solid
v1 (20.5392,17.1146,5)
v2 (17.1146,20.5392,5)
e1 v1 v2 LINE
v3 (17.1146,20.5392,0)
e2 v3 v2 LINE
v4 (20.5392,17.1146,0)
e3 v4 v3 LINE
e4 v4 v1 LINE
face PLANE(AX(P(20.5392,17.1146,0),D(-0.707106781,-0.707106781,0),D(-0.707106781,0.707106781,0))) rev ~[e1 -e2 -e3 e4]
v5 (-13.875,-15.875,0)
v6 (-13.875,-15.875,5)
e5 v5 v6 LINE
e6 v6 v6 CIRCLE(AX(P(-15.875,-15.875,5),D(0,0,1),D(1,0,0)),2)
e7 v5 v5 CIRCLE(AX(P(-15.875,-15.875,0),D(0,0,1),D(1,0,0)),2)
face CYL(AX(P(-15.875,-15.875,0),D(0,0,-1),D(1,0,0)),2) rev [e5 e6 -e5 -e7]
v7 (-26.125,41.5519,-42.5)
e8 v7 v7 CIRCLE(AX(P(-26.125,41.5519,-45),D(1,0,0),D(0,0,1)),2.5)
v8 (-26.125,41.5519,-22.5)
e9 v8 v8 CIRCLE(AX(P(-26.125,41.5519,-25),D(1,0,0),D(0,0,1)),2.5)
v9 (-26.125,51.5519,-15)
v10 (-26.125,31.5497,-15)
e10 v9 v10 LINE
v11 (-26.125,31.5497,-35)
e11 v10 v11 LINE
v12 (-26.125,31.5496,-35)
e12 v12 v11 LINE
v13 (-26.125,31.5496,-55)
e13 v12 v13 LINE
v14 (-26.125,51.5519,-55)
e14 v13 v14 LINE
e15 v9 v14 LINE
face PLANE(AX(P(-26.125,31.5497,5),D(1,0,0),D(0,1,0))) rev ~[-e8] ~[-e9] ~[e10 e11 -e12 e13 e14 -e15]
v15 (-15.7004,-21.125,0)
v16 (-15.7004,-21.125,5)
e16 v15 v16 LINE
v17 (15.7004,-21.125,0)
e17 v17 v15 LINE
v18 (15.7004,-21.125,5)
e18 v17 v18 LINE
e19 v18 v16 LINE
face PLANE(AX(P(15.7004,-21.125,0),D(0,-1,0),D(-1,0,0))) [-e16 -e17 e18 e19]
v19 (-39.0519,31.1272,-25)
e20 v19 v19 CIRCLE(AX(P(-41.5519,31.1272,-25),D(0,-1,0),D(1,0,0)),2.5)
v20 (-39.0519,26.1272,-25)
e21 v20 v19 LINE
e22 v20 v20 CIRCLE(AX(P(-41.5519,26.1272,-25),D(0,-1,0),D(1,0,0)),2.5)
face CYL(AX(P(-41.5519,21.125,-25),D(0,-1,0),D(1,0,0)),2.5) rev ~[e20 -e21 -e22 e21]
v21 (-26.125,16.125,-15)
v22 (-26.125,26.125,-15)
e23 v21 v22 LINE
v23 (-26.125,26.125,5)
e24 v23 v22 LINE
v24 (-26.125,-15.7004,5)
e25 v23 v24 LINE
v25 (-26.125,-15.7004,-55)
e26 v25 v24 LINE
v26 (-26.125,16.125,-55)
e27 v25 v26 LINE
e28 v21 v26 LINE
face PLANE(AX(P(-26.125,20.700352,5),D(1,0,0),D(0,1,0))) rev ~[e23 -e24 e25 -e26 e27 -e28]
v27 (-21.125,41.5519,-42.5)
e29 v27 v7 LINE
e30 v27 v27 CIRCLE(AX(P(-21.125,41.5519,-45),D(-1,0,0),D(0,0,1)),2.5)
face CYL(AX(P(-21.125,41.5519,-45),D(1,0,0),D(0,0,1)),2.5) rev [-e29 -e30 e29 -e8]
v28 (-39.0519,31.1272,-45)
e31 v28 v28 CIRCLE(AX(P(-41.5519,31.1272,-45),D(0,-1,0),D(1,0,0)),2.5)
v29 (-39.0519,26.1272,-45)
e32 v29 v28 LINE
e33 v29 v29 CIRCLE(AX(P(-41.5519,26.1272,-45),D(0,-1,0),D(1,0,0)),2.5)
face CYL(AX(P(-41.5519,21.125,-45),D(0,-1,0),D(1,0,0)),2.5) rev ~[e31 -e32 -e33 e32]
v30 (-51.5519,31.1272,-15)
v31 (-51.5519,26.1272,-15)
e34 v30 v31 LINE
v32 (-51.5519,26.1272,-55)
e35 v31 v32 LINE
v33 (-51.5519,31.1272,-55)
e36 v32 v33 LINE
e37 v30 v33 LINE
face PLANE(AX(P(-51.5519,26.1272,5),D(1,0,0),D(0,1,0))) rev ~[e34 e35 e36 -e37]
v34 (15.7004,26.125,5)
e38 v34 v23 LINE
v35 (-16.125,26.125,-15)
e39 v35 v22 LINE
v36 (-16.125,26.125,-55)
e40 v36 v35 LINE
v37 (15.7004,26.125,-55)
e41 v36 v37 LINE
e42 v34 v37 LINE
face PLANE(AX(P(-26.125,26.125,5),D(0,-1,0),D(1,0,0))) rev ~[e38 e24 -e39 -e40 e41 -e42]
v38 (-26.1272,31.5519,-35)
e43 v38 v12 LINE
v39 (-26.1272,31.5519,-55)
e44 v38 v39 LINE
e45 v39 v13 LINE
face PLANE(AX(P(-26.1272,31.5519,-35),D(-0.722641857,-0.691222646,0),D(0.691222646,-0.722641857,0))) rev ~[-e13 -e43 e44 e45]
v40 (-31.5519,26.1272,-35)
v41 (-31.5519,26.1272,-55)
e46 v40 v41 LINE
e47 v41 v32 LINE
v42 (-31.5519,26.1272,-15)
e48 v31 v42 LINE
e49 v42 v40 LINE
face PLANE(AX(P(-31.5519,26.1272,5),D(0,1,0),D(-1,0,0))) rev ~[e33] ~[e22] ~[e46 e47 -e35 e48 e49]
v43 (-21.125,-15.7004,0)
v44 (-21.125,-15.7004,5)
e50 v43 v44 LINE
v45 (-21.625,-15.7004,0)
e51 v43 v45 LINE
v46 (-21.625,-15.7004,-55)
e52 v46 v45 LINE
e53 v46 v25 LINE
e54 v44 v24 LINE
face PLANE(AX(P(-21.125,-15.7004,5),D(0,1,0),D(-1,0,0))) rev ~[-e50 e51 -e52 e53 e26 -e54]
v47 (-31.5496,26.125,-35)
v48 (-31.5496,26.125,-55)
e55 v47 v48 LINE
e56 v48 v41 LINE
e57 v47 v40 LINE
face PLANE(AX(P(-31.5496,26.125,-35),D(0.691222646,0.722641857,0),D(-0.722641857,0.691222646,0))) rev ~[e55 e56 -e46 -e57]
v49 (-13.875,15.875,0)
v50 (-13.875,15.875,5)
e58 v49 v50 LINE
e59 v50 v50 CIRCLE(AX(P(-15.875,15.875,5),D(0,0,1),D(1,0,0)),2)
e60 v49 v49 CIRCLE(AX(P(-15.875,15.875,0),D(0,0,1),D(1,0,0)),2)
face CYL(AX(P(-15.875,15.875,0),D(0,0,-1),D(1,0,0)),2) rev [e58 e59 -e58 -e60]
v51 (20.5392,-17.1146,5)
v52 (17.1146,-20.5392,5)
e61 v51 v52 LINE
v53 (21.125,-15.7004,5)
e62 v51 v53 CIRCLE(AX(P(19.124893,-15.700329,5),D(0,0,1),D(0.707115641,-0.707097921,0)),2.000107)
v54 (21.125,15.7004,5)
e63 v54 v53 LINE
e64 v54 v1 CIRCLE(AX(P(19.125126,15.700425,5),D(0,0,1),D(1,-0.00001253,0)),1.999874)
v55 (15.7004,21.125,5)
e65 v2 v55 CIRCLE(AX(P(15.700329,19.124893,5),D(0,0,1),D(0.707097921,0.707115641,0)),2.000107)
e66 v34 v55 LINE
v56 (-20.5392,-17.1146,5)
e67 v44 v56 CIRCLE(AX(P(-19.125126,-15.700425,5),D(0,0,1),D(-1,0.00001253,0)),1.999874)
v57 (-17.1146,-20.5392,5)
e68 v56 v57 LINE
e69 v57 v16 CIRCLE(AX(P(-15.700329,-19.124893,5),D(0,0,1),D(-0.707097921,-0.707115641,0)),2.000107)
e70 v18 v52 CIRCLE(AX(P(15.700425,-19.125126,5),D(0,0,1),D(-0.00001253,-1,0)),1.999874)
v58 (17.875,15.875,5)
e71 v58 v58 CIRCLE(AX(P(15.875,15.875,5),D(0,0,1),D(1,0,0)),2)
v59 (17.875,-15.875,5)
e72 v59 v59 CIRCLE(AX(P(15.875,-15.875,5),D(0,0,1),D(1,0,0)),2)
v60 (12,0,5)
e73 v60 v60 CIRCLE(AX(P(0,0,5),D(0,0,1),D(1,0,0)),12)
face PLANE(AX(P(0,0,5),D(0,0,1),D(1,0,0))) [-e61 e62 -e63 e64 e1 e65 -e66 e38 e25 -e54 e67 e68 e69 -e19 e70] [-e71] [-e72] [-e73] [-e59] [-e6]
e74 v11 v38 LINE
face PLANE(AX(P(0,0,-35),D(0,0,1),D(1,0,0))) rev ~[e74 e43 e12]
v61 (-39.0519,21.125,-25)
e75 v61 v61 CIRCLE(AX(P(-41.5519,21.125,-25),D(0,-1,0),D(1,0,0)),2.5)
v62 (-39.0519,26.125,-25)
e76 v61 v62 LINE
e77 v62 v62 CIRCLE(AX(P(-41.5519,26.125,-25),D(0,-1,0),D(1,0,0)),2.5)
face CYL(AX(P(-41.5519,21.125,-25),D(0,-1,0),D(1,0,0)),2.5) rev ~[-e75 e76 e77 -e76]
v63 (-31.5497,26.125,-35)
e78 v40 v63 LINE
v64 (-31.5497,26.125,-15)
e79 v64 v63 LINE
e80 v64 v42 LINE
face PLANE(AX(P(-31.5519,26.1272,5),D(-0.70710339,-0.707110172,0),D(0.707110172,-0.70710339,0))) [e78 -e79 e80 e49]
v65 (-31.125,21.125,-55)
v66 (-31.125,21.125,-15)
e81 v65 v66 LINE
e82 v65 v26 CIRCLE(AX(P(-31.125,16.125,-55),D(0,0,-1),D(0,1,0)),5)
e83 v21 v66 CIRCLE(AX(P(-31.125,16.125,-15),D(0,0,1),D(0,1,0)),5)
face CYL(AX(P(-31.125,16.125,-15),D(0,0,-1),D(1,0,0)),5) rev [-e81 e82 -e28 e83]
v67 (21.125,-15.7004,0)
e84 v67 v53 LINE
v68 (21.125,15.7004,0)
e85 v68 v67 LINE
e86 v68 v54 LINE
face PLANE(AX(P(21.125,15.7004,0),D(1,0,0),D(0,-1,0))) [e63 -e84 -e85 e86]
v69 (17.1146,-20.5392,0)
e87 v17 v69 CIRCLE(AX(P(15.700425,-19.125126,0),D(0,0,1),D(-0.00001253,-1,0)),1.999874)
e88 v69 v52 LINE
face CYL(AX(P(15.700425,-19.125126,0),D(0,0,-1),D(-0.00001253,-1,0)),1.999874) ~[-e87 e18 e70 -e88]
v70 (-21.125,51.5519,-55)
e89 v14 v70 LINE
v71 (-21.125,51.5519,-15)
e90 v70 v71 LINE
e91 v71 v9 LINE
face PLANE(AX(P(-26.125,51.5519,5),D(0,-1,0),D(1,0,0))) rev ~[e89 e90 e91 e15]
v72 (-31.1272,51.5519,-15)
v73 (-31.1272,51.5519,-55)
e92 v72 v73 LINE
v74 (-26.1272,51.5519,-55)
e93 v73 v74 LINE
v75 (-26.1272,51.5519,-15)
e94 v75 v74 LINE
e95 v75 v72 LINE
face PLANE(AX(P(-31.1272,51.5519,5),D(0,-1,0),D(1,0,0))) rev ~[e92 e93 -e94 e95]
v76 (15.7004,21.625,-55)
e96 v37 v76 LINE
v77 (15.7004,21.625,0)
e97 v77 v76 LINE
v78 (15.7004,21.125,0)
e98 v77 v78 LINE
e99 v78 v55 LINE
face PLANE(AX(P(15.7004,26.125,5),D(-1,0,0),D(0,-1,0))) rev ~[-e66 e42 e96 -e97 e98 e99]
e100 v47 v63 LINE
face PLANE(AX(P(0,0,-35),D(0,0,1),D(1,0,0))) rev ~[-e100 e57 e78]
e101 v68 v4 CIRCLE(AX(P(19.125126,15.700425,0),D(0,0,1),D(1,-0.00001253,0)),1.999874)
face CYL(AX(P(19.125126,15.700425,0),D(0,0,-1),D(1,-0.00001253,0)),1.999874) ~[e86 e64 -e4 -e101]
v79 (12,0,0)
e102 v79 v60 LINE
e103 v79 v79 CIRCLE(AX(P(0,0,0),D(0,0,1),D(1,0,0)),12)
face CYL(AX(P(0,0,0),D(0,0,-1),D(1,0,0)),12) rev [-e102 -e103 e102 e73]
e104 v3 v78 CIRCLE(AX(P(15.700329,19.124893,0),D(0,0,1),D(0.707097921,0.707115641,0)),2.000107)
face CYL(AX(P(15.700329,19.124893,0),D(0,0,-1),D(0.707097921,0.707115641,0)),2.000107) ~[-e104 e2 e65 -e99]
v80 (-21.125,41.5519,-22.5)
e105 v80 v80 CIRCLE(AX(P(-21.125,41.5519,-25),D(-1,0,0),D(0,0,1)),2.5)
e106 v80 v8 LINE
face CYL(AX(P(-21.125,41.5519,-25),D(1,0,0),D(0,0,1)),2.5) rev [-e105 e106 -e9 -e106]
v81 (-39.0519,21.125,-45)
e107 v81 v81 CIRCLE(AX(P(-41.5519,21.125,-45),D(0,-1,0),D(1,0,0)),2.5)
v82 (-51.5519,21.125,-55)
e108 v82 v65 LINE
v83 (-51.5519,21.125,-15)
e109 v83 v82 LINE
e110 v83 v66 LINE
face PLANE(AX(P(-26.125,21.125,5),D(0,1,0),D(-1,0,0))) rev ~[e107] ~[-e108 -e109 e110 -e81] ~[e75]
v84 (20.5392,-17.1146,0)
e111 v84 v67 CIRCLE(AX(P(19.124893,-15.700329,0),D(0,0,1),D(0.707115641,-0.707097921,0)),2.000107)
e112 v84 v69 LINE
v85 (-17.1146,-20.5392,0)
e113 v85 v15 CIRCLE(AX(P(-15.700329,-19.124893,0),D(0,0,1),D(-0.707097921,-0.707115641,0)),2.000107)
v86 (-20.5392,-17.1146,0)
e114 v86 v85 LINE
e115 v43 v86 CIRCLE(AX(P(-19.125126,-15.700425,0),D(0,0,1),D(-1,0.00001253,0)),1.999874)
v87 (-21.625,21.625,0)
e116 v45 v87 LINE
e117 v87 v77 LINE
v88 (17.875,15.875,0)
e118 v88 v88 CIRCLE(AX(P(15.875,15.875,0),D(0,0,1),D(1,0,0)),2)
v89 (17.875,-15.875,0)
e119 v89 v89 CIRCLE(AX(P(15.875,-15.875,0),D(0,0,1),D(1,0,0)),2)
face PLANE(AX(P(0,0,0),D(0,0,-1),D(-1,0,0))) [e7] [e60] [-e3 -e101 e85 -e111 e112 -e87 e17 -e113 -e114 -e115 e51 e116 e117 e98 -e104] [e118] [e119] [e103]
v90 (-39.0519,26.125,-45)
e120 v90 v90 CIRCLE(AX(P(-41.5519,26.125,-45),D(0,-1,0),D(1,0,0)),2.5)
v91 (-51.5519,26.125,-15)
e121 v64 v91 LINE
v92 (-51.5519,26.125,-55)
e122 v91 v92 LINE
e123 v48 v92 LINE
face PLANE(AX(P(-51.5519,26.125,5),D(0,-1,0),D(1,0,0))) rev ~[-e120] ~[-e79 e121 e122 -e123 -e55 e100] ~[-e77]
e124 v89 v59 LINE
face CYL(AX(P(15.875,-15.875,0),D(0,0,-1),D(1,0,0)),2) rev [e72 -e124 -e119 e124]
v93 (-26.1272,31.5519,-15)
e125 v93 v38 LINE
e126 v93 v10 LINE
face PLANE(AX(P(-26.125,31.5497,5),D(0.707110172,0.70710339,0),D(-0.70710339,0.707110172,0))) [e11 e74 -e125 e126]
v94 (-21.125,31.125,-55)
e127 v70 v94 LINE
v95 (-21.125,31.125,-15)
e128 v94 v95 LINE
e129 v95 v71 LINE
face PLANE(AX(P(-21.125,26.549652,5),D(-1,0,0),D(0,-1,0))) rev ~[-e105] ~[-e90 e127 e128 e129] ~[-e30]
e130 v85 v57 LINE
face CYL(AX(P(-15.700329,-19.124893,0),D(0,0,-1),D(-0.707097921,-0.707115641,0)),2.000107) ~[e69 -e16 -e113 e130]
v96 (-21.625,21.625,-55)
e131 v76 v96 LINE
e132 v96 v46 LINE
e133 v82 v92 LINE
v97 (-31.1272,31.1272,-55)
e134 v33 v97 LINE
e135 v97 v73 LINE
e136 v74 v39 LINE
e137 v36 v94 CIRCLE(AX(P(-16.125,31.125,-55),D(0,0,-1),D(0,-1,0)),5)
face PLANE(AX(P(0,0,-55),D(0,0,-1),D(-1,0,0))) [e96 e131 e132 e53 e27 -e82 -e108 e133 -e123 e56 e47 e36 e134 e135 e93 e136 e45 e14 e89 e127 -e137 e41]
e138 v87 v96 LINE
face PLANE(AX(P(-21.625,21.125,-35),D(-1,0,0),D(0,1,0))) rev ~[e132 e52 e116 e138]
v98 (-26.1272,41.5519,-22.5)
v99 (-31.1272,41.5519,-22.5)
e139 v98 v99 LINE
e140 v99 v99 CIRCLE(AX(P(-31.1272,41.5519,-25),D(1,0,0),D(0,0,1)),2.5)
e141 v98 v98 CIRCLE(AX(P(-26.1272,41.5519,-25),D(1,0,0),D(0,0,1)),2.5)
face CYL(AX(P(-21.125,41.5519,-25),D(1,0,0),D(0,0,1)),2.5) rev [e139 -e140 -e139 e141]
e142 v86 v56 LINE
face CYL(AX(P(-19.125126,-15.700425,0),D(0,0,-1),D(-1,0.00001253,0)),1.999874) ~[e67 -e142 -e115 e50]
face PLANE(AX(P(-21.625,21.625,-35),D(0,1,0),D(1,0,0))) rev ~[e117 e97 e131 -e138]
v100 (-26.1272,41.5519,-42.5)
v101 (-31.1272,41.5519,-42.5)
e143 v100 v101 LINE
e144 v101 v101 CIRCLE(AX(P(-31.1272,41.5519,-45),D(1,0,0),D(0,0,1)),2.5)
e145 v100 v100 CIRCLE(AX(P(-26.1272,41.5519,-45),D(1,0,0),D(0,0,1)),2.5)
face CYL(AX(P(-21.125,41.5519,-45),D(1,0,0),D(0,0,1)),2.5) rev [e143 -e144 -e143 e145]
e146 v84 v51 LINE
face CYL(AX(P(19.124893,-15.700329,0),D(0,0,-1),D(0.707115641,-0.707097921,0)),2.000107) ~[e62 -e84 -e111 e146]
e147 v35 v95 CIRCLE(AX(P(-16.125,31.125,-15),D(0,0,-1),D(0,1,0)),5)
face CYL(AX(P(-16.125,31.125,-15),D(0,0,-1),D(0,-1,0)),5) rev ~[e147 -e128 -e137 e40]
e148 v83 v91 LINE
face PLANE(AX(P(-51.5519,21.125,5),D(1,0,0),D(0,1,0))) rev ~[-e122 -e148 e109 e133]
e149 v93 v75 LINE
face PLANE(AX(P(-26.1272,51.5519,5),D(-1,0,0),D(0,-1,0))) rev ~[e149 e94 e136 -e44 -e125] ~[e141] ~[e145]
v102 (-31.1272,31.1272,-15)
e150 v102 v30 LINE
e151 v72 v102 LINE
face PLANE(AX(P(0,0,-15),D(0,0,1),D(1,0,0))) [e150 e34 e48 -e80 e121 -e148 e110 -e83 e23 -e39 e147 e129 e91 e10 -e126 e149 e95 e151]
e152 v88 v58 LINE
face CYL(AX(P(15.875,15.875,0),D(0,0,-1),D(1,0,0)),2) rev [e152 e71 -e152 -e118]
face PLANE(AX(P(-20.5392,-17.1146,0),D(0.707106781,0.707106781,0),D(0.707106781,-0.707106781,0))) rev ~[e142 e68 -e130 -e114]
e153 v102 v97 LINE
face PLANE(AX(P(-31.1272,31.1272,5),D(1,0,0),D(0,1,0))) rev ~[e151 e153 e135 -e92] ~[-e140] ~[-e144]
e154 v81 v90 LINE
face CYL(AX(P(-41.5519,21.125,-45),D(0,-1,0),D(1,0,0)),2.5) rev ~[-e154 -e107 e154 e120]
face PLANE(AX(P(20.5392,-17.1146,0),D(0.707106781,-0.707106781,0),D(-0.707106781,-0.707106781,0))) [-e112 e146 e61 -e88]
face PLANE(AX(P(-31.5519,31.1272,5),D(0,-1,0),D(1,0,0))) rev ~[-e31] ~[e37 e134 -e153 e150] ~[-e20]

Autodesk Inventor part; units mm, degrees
ref_plane "YZ Plane" through (0, 0, 0) normal (1, 0, 0) x (0, 1, 0)
ref_plane "XZ Plane" through (0, 0, 0) normal (0, 1, 0) x (-1, 0, 0)
ref_plane "XY Plane" through (0, 0, 0) normal (0, 0, 1) x (1, 0, 0)
sketch "Sketch1" plane through (0, 0, 0) normal (0, 0, 1) x (1, 0, 0)
  arc A0 (-20.5392, 17.1146) -> (-21.125, 15.7004) centre (-19.125, 15.7004) ccw projected
  line L0 (-21.125, -15.7004) -> (-21.125, 15.7004) projected
  arc A1 (-21.125, -15.7004) -> (-20.5392, -17.1146) centre (-19.125, -15.7004) ccw projected
  line L1 (-20.5392, -17.1146) -> (-17.1146, -20.5392) projected
  arc A2 (-17.1146, -20.5392) -> (-15.7004, -21.125) centre (-15.7004, -19.125) ccw projected
  line L2 (15.7004, -21.125) -> (-15.7004, -21.125) projected
  arc A3 (15.7004, -21.125) -> (17.1146, -20.5392) centre (15.7004, -19.125) ccw projected
  line L3 (20.5392, -17.1146) -> (17.1146, -20.5392) projected
  arc A4 (20.5392, -17.1146) -> (21.125, -15.7004) centre (19.125, -15.7004) ccw projected
  line L4 (21.125, 15.7004) -> (21.125, -15.7004) projected
  arc A5 (21.125, 15.7004) -> (20.5392, 17.1146) centre (19.125, 15.7004) ccw projected
  line L5 (20.5392, 17.1146) -> (17.1146, 20.5392) projected
  arc A6 (17.1146, 20.5392) -> (15.7004, 21.125) centre (15.7004, 19.125) ccw projected
  line L6 (-15.7004, 21.125) -> (15.7004, 21.125) projected
  arc A7 (-15.7004, 21.125) -> (-17.1146, 20.5392) centre (-15.7004, 19.125) ccw projected
  line L7 (-20.5392, 17.1146) -> (-17.1146, 20.5392) projected
  circle A8 centre (0, 0) radius 16 projected
  circle A9 centre (-15.875, -15.875) radius 1.625 projected
  circle A10 centre (15.875, 15.875) radius 1.625 projected
  circle A11 centre (-15.875, 15.875) radius 1.625 projected
  circle A12 centre (15.875, -15.875) radius 1.625 projected
  circle A13 centre (0, 0) radius 12
  circle A14 centre (-15.875, 15.875) radius 2
  circle A15 centre (15.875, 15.875) radius 2
  circle A16 centre (15.875, -15.875) radius 2
  circle A17 centre (-15.875, -15.875) radius 2
  line L8 (-21.125, -15.7004) -> (-29.125, -15.7004)
  line L9 (-29.125, -15.7004) -> (-29.125, 21.125)
  line L10 (-29.125, 21.125) -> (-21.125, 21.125)
  line L11 (-21.125, 21.125) -> (-21.125, -15.7004)
  line L12 (15.7004, 21.125) -> (-29.125, 21.125)
  line L13 (-29.125, 21.125) -> (-29.125, 29.125)
  line L14 (-29.125, 29.125) -> (15.7004, 29.125)
  line L15 (15.7004, 29.125) -> (15.7004, 21.125)
  point P0 (0, 0)
  dimension "d0" = 24
  dimension "d1" = 4
  dimension "d2" = 4
  dimension "d3" = 4
  dimension "d4" = 4
  dimension "d77" = 8
  dimension "d78" = 8
extrude "Extrusion1" add sketch "Sketch1" along normal blind 5 contours L7 A7 L6 A6 L5 A5 L4 A4 L3 A3 L2 A2 L1 A1 L0 A0 | A8
sketch "Sketch3" plane through (0, 0, 5) normal (0, 0, 1) x (1, 0, 0)
  line L0 (-15.7004, 21.125) -> (15.7004, 21.125) projected
  line L1 (15.7004, 21.125) -> (-51.5519, 21.125)
  line L2 (-51.5519, 21.125) -> (-51.5519, 26.125)
  line L3 (-51.5519, 26.125) -> (15.7004, 26.125)
  line L4 (15.7004, 26.125) -> (15.7004, 21.125)
  line L5 (-21.125, 15.7004) -> (-21.125, -15.7004) projected
  line L6 (-21.125, -15.7004) -> (-26.125, -15.7004)
  line L7 (-26.125, -15.7004) -> (-26.125, 51.5519)
  line L8 (-26.125, 51.5519) -> (-21.125, 51.5519)
  line L9 (-21.125, 51.5519) -> (-21.125, -15.7004)
  arc A0 (-20.5392, 17.1146) -> (-21.125, 15.7004) centre (-19.125, 15.7004) ccw projected
  line L10 (15.7004, 21.125) -> (-15.7004, 21.125) projected
  line L11 (-21.125, 15.7004) -> (-15.7004, 21.125)
  line L12 (-15.7004, 21.125) -> (-26.1272, 31.5519)
  line L13 (-26.1272, 31.5519) -> (-31.5519, 26.1272)
  line L14 (-31.5519, 26.1272) -> (-21.125, 15.7004)
  line L15 (-31.5519, 26.1272) -> (-51.5519, 26.1272)
  line L16 (-51.5519, 26.1272) -> (-51.5519, 31.1272)
  line L17 (-51.5519, 31.1272) -> (-31.5519, 31.1272)
  line L18 (-31.5519, 31.1272) -> (-31.5519, 26.1272)
  line L19 (-26.1272, 31.5519) -> (-31.1272, 31.5519)
  line L20 (-31.1272, 31.5519) -> (-31.1272, 51.5519)
  line L21 (-31.1272, 51.5519) -> (-26.1272, 51.5519)
  line L22 (-26.1272, 51.5519) -> (-26.1272, 31.5519)
  line L23 (-31.5519, 31.1272) -> (-31.1272, 31.1272)
  line L24 (-31.1272, 31.1272) -> (-31.1272, 31.5519)
  point P0 (0, 0)
  point P1 (-31.5496, 26.125)
  point P2 (-26.125, 21.125)
  point P3 (-21.125, 21.125)
  point P4 (-21.125, 26.125)
  point P5 (-26.125, 31.5496)
  dimension "d11" = 5
  dimension "d12" = 5
  dimension "d79" = 5
  dimension "d80" = 5
  dimension "d81" = 20
  dimension "d82" = 20
  dimension "d83" = 0
  dimension "d84" = 0
extrude "Extrusion3" add sketch "Sketch3" against normal blind 40 contours L12 L3 L4 L0 | L1 L9 L3 L12 | L9 L14 L7 L1 | L1 L7 L3 L9 | L5 L6 L7 L14 | L1 L14 L3 L7 | L3 L7 L12 L9 | L12 L7 L8 L9 | L1 L2 L3 L14 | L3 L14 L13 L12 L7 | L13 L18 L23 L24 L19 | L19 L20 L21 L22 | L15 L16 L17 L18
sketch "Sketch4" plane through (0, 0, 5) normal (0, 0, 1) x (1, 0, 0)
  arc A0 (-15.7004, 21.125) -> (-17.1146, 20.5392) centre (-15.7004, 19.125) ccw projected
  line L0 (-17.1146, 20.5392) -> (-20.5392, 17.1146) projected
  arc A1 (-20.5392, 17.1146) -> (-21.125, 15.7004) centre (-19.125, 15.7004) ccw projected
  line L1 (-21.125, 26.125) -> (-21.125, 51.5519) projected
  line L2 (-51.5519, 21.125) -> (-26.125, 21.125) projected
  circle A2 centre (0, 0) radius 12 projected
  circle A3 centre (-15.875, -15.875) radius 2 projected
  circle A4 centre (15.875, -15.875) radius 2 projected
  circle A5 centre (15.875, 15.875) radius 2 projected
  circle A6 centre (-15.875, 15.875) radius 2 projected
  line L3 (15.7004, 21.125) -> (15.7004, 26.125) projected
  line L4 (15.7004, 26.125) -> (-21.125, 26.125) projected
  line L5 (-21.125, 51.5519) -> (-26.125, 51.5519) projected
  line L6 (-26.125, 51.5519) -> (-26.125, 31.5496) projected
  line L7 (-31.5496, 26.125) -> (-51.5519, 26.125) projected
  line L8 (-51.5519, 26.125) -> (-51.5519, 21.125) projected
  line L9 (-26.125, 21.125) -> (-26.125, -15.7004) projected
  line L10 (-26.125, -15.7004) -> (-21.125, -15.7004) projected
  arc A7 (-21.125, -15.7004) -> (-20.5392, -17.1146) centre (-19.125, -15.7004) ccw projected
  line L11 (-20.5392, -17.1146) -> (-17.1146, -20.5392) projected
  arc A8 (-17.1146, -20.5392) -> (-15.7004, -21.125) centre (-15.7004, -19.125) ccw projected
  line L12 (-15.7004, -21.125) -> (15.7004, -21.125) projected
  arc A9 (15.7004, -21.125) -> (17.1146, -20.5392) centre (15.7004, -19.125) ccw projected
  line L13 (17.1146, -20.5392) -> (20.5392, -17.1146) projected
  arc A10 (20.5392, -17.1146) -> (21.125, -15.7004) centre (19.125, -15.7004) ccw projected
  line L14 (21.125, -15.7004) -> (21.125, 15.7004) projected
  arc A11 (21.125, 15.7004) -> (20.5392, 17.1146) centre (19.125, 15.7004) ccw projected
  line L15 (20.5392, 17.1146) -> (17.1146, 20.5392) projected
  arc A12 (17.1146, 20.5392) -> (15.7004, 21.125) centre (15.7004, 19.125) ccw projected
  line L16 (-26.125, 31.5496) -> (-26.1272, 31.5519) projected
  line L17 (-26.1272, 31.5519) -> (-26.1272, 51.5519) projected
  line L18 (-26.1272, 51.5519) -> (-31.1272, 51.5519) projected
  line L19 (-31.1272, 51.5519) -> (-31.1272, 31.1272) projected
  line L20 (-31.1272, 31.1272) -> (-51.5519, 31.1272) projected
  line L21 (-51.5519, 31.1272) -> (-51.5519, 26.1272) projected
  line L22 (-51.5519, 26.1272) -> (-31.5519, 26.1272) projected
  line L23 (-31.5519, 26.1272) -> (-31.5496, 26.125) projected
  line L24 (-21.125, 15.7004) -> (-21.125, 21.125) projected
  line L25 (-21.125, 21.125) -> (-15.7004, 21.125) projected
  point P0 (0, 0)
extrude "Extrusion4" add sketch "Sketch4" against normal blind 5 contours A0 L0 A1 L24 L25
sketch "Sketch11" plane through (0, 0, 5) normal (0, 0, 1) x (1, 0, 0)
  line L0 (-26.125, 21.125) -> (-26.125, 51.5519) projected
  line L1 (-26.125, 26.125) -> (-19.1264, 26.125)
  line L2 (-19.1264, 26.125) -> (-19.1264, 59.1574)
  line L3 (-19.1264, 59.1574) -> (-26.125, 59.1574)
  line L4 (-26.125, 59.1574) -> (-26.125, 26.125)
  line L5 (-51.5519, 26.125) -> (-51.5519, 21.125) projected
  line L6 (-51.5519, 26.125) -> (-26.125, 26.125)
  line L7 (-26.125, 26.125) -> (-26.125, 13.3287)
  line L8 (-26.125, 13.3287) -> (-51.5519, 13.3287)
  line L9 (-51.5519, 13.3287) -> (-51.5519, 26.125)
  line L10 (-26.125, 26.125) -> (-55.9242, 26.125)
  line L11 (-55.9242, 26.125) -> (-55.9242, 63.8305)
  line L12 (-55.9242, 63.8305) -> (-26.125, 63.8305)
  line L13 (-26.125, 63.8305) -> (-26.125, 26.125)
  point P0 (0, 0)
  point P1 (-26.125, 46.125)
extrude "Extrusion9" cut sketch "Sketch11" against normal blind 20
sketch "Sketch7" plane through (0, 0, -35) normal (0, 0, -1) x (-1, 0, 0)
  line L0 (21.625, 21.625) -> (-23.2924, 21.625)
  line L1 (-23.2924, 21.625) -> (-23.2924, -21.9013)
  line L2 (-23.2924, -21.9013) -> (21.625, -21.9013)
  line L3 (21.625, -21.9013) -> (21.625, 21.625)
  line L4 (-15.7004, 21.125) -> (51.5519, 21.125) projected
  line L5 (21.125, 51.5519) -> (21.125, -15.7004) projected
  point P0 (0, 0)
  point P1 (21.125, 21.125)
  dimension "d35" = 0.5
  dimension "d36" = 0.5
extrude "Extrusion7" cut sketch "Sketch7" against normal blind 35
sketch "Sketch12" plane through (0, 0, -35) normal (0, 0, -1) x (-1, 0, 0)
  line L0 (51.5519, 21.125) -> (51.5519, 26.125) projected
  line L1 (-15.7004, 26.125) -> (26.125, 26.125) projected
  line L2 (51.5519, 21.125) -> (27.0552, 21.125)
  line L3 (27.0552, 21.125) -> (27.0552, 26.125)
  line L4 (27.0552, 26.125) -> (51.5519, 26.125)
  line L5 (51.5519, 26.125) -> (51.5519, 21.125)
  line L6 (26.125, 51.5519) -> (21.125, 51.5519) projected
  line L7 (-15.7004, 21.625) -> (21.625, 21.625) projected
  line L8 (26.125, 51.5519) -> (21.125, 51.5519)
  line L9 (21.125, 51.5519) -> (21.125, 21.625)
  line L10 (21.125, 21.625) -> (26.125, 21.625)
  line L11 (26.125, 21.625) -> (26.125, 51.5519)
  line L12 (51.5519, 26.125) -> (31.5496, 26.125) projected
  line L13 (21.125, 51.5519) -> (21.125, 26.125) projected
  line L14 (26.125, 51.5519) -> (21.125, 51.5519) projected
  line L15 (26.125, 31.5496) -> (26.125, 51.5519) projected
  line L16 (26.1272, 31.5519) -> (26.125, 31.5496) projected
  line L17 (26.1272, 51.5519) -> (26.1272, 31.5519) projected
  line L18 (31.1272, 51.5519) -> (26.1272, 51.5519) projected
  line L19 (31.1272, 31.1272) -> (31.1272, 51.5519) projected
  line L20 (51.5519, 31.1272) -> (31.1272, 31.1272) projected
  line L21 (51.5519, 26.1272) -> (51.5519, 31.1272) projected
  line L22 (31.5519, 26.1272) -> (51.5519, 26.1272) projected
  line L23 (31.5496, 26.125) -> (31.5519, 26.1272) projected
  line L24 (51.5519, 26.125) -> (31.5496, 26.125) projected
  line L25 (51.5519, 21.125) -> (51.5519, 26.125) projected
  line L26 (26.125, 21.125) -> (51.5519, 21.125) projected
  line L27 (26.125, 26.125) -> (26.125, 21.125) projected
  line L28 (21.125, 26.125) -> (26.125, 26.125) projected
  point P0 (0, 0)
  point P1 (51.5519, 26.125)
  point P2 (26.125, 26.125)
  point P3 (21.125, 51.5519)
  point P4 (21.125, 26.125)
  dimension "d54" = 5
  dimension "d55" = 5
  dimension "d56" = 4.5
  dimension "d57" = 0.5
extrude "Extrusion10" add sketch "Sketch12" along normal blind 20
sketch "Sketch13" plane through (-51.5519, 21.125, -15) normal (0, -1, 0) x (1, 0, 0)
  circle A0 centre (10, -30) radius 2.5
  circle A1 centre (10, -10) radius 2.5
  line L0 (24.4966, -40) -> (0, -40) projected
  line L1 (0, 0) -> (0, -40) projected
  point P0 (51.5519, 15)
  point P1 (0, -20)
  dimension "d60" = 10
  dimension "d61" = 10
  dimension "d62" = 5
  dimension "d63" = 5
  dimension "d64" = 20
  dimension "d65" = 10
extrude "Extrusion11" cut sketch "Sketch13" against normal blind 20
sketch "Sketch14" plane through (-21.125, 26.125, -15) normal (-1, 0, 0) x (0, 0, 1)
  circle A0 centre (-10, 15.4269) radius 2.5
  circle A1 centre (-30, 15.4269) radius 2.5
  line L0 (0, 5.4246) -> (0, 25.4269) projected
  line L1 (0, 25.4269) -> (-40, 25.4269) projected
  point P0 (15, -26.125)
  point P1 (0, 0)
  point P2 (20, 25.4269)
  point P3 (-20, 25.4269)
  dimension "d68" = 10
  dimension "d69" = 10
  dimension "d70" = 20
  dimension "d71" = 10
  dimension "d72" = 5
  dimension "d73" = 5
extrude "Extrusion12" cut sketch "Sketch14" along normal mid plane 40
fillet "Fillet1" radius 5 2 edges at (-21.125, 26.125, -25) (-26.125, 21.125, -25)
sketch "Sketch15" plane through (0, 0, -35) normal (0, 0, -1) x (-1, 0, 0)
  line L0 (21.125, 21.625) -> (21.125, 31.125) projected
  arc A0 (16.125, 26.125) -> (21.125, 31.125) centre (16.125, 31.125) ccw projected
  line L1 (16.125, 26.125) -> (-15.7004, 26.125) projected
  line L2 (-15.7004, 26.125) -> (-15.7004, 21.625) projected
  line L3 (-15.7004, 21.625) -> (21.125, 21.625) projected
  line L4 (26.125, 21.125) -> (26.125, 21.625) projected
  line L5 (26.125, 21.625) -> (21.625, 21.625) projected
  line L6 (21.625, 21.625) -> (21.625, -15.7004) projected
  line L7 (21.625, -15.7004) -> (26.125, -15.7004) projected
  line L8 (26.125, -15.7004) -> (26.125, 16.125) projected
  arc A1 (31.125, 21.125) -> (26.125, 16.125) centre (31.125, 16.125) ccw projected
  line L9 (26.125, 21.125) -> (31.125, 21.125) projected
  point P0 (0, 0)
extrude "Extrusion13" add sketch "Sketch15" along normal blind 20
equation "\"d36\" = d35"
properties part number "StepperXYHolder"
